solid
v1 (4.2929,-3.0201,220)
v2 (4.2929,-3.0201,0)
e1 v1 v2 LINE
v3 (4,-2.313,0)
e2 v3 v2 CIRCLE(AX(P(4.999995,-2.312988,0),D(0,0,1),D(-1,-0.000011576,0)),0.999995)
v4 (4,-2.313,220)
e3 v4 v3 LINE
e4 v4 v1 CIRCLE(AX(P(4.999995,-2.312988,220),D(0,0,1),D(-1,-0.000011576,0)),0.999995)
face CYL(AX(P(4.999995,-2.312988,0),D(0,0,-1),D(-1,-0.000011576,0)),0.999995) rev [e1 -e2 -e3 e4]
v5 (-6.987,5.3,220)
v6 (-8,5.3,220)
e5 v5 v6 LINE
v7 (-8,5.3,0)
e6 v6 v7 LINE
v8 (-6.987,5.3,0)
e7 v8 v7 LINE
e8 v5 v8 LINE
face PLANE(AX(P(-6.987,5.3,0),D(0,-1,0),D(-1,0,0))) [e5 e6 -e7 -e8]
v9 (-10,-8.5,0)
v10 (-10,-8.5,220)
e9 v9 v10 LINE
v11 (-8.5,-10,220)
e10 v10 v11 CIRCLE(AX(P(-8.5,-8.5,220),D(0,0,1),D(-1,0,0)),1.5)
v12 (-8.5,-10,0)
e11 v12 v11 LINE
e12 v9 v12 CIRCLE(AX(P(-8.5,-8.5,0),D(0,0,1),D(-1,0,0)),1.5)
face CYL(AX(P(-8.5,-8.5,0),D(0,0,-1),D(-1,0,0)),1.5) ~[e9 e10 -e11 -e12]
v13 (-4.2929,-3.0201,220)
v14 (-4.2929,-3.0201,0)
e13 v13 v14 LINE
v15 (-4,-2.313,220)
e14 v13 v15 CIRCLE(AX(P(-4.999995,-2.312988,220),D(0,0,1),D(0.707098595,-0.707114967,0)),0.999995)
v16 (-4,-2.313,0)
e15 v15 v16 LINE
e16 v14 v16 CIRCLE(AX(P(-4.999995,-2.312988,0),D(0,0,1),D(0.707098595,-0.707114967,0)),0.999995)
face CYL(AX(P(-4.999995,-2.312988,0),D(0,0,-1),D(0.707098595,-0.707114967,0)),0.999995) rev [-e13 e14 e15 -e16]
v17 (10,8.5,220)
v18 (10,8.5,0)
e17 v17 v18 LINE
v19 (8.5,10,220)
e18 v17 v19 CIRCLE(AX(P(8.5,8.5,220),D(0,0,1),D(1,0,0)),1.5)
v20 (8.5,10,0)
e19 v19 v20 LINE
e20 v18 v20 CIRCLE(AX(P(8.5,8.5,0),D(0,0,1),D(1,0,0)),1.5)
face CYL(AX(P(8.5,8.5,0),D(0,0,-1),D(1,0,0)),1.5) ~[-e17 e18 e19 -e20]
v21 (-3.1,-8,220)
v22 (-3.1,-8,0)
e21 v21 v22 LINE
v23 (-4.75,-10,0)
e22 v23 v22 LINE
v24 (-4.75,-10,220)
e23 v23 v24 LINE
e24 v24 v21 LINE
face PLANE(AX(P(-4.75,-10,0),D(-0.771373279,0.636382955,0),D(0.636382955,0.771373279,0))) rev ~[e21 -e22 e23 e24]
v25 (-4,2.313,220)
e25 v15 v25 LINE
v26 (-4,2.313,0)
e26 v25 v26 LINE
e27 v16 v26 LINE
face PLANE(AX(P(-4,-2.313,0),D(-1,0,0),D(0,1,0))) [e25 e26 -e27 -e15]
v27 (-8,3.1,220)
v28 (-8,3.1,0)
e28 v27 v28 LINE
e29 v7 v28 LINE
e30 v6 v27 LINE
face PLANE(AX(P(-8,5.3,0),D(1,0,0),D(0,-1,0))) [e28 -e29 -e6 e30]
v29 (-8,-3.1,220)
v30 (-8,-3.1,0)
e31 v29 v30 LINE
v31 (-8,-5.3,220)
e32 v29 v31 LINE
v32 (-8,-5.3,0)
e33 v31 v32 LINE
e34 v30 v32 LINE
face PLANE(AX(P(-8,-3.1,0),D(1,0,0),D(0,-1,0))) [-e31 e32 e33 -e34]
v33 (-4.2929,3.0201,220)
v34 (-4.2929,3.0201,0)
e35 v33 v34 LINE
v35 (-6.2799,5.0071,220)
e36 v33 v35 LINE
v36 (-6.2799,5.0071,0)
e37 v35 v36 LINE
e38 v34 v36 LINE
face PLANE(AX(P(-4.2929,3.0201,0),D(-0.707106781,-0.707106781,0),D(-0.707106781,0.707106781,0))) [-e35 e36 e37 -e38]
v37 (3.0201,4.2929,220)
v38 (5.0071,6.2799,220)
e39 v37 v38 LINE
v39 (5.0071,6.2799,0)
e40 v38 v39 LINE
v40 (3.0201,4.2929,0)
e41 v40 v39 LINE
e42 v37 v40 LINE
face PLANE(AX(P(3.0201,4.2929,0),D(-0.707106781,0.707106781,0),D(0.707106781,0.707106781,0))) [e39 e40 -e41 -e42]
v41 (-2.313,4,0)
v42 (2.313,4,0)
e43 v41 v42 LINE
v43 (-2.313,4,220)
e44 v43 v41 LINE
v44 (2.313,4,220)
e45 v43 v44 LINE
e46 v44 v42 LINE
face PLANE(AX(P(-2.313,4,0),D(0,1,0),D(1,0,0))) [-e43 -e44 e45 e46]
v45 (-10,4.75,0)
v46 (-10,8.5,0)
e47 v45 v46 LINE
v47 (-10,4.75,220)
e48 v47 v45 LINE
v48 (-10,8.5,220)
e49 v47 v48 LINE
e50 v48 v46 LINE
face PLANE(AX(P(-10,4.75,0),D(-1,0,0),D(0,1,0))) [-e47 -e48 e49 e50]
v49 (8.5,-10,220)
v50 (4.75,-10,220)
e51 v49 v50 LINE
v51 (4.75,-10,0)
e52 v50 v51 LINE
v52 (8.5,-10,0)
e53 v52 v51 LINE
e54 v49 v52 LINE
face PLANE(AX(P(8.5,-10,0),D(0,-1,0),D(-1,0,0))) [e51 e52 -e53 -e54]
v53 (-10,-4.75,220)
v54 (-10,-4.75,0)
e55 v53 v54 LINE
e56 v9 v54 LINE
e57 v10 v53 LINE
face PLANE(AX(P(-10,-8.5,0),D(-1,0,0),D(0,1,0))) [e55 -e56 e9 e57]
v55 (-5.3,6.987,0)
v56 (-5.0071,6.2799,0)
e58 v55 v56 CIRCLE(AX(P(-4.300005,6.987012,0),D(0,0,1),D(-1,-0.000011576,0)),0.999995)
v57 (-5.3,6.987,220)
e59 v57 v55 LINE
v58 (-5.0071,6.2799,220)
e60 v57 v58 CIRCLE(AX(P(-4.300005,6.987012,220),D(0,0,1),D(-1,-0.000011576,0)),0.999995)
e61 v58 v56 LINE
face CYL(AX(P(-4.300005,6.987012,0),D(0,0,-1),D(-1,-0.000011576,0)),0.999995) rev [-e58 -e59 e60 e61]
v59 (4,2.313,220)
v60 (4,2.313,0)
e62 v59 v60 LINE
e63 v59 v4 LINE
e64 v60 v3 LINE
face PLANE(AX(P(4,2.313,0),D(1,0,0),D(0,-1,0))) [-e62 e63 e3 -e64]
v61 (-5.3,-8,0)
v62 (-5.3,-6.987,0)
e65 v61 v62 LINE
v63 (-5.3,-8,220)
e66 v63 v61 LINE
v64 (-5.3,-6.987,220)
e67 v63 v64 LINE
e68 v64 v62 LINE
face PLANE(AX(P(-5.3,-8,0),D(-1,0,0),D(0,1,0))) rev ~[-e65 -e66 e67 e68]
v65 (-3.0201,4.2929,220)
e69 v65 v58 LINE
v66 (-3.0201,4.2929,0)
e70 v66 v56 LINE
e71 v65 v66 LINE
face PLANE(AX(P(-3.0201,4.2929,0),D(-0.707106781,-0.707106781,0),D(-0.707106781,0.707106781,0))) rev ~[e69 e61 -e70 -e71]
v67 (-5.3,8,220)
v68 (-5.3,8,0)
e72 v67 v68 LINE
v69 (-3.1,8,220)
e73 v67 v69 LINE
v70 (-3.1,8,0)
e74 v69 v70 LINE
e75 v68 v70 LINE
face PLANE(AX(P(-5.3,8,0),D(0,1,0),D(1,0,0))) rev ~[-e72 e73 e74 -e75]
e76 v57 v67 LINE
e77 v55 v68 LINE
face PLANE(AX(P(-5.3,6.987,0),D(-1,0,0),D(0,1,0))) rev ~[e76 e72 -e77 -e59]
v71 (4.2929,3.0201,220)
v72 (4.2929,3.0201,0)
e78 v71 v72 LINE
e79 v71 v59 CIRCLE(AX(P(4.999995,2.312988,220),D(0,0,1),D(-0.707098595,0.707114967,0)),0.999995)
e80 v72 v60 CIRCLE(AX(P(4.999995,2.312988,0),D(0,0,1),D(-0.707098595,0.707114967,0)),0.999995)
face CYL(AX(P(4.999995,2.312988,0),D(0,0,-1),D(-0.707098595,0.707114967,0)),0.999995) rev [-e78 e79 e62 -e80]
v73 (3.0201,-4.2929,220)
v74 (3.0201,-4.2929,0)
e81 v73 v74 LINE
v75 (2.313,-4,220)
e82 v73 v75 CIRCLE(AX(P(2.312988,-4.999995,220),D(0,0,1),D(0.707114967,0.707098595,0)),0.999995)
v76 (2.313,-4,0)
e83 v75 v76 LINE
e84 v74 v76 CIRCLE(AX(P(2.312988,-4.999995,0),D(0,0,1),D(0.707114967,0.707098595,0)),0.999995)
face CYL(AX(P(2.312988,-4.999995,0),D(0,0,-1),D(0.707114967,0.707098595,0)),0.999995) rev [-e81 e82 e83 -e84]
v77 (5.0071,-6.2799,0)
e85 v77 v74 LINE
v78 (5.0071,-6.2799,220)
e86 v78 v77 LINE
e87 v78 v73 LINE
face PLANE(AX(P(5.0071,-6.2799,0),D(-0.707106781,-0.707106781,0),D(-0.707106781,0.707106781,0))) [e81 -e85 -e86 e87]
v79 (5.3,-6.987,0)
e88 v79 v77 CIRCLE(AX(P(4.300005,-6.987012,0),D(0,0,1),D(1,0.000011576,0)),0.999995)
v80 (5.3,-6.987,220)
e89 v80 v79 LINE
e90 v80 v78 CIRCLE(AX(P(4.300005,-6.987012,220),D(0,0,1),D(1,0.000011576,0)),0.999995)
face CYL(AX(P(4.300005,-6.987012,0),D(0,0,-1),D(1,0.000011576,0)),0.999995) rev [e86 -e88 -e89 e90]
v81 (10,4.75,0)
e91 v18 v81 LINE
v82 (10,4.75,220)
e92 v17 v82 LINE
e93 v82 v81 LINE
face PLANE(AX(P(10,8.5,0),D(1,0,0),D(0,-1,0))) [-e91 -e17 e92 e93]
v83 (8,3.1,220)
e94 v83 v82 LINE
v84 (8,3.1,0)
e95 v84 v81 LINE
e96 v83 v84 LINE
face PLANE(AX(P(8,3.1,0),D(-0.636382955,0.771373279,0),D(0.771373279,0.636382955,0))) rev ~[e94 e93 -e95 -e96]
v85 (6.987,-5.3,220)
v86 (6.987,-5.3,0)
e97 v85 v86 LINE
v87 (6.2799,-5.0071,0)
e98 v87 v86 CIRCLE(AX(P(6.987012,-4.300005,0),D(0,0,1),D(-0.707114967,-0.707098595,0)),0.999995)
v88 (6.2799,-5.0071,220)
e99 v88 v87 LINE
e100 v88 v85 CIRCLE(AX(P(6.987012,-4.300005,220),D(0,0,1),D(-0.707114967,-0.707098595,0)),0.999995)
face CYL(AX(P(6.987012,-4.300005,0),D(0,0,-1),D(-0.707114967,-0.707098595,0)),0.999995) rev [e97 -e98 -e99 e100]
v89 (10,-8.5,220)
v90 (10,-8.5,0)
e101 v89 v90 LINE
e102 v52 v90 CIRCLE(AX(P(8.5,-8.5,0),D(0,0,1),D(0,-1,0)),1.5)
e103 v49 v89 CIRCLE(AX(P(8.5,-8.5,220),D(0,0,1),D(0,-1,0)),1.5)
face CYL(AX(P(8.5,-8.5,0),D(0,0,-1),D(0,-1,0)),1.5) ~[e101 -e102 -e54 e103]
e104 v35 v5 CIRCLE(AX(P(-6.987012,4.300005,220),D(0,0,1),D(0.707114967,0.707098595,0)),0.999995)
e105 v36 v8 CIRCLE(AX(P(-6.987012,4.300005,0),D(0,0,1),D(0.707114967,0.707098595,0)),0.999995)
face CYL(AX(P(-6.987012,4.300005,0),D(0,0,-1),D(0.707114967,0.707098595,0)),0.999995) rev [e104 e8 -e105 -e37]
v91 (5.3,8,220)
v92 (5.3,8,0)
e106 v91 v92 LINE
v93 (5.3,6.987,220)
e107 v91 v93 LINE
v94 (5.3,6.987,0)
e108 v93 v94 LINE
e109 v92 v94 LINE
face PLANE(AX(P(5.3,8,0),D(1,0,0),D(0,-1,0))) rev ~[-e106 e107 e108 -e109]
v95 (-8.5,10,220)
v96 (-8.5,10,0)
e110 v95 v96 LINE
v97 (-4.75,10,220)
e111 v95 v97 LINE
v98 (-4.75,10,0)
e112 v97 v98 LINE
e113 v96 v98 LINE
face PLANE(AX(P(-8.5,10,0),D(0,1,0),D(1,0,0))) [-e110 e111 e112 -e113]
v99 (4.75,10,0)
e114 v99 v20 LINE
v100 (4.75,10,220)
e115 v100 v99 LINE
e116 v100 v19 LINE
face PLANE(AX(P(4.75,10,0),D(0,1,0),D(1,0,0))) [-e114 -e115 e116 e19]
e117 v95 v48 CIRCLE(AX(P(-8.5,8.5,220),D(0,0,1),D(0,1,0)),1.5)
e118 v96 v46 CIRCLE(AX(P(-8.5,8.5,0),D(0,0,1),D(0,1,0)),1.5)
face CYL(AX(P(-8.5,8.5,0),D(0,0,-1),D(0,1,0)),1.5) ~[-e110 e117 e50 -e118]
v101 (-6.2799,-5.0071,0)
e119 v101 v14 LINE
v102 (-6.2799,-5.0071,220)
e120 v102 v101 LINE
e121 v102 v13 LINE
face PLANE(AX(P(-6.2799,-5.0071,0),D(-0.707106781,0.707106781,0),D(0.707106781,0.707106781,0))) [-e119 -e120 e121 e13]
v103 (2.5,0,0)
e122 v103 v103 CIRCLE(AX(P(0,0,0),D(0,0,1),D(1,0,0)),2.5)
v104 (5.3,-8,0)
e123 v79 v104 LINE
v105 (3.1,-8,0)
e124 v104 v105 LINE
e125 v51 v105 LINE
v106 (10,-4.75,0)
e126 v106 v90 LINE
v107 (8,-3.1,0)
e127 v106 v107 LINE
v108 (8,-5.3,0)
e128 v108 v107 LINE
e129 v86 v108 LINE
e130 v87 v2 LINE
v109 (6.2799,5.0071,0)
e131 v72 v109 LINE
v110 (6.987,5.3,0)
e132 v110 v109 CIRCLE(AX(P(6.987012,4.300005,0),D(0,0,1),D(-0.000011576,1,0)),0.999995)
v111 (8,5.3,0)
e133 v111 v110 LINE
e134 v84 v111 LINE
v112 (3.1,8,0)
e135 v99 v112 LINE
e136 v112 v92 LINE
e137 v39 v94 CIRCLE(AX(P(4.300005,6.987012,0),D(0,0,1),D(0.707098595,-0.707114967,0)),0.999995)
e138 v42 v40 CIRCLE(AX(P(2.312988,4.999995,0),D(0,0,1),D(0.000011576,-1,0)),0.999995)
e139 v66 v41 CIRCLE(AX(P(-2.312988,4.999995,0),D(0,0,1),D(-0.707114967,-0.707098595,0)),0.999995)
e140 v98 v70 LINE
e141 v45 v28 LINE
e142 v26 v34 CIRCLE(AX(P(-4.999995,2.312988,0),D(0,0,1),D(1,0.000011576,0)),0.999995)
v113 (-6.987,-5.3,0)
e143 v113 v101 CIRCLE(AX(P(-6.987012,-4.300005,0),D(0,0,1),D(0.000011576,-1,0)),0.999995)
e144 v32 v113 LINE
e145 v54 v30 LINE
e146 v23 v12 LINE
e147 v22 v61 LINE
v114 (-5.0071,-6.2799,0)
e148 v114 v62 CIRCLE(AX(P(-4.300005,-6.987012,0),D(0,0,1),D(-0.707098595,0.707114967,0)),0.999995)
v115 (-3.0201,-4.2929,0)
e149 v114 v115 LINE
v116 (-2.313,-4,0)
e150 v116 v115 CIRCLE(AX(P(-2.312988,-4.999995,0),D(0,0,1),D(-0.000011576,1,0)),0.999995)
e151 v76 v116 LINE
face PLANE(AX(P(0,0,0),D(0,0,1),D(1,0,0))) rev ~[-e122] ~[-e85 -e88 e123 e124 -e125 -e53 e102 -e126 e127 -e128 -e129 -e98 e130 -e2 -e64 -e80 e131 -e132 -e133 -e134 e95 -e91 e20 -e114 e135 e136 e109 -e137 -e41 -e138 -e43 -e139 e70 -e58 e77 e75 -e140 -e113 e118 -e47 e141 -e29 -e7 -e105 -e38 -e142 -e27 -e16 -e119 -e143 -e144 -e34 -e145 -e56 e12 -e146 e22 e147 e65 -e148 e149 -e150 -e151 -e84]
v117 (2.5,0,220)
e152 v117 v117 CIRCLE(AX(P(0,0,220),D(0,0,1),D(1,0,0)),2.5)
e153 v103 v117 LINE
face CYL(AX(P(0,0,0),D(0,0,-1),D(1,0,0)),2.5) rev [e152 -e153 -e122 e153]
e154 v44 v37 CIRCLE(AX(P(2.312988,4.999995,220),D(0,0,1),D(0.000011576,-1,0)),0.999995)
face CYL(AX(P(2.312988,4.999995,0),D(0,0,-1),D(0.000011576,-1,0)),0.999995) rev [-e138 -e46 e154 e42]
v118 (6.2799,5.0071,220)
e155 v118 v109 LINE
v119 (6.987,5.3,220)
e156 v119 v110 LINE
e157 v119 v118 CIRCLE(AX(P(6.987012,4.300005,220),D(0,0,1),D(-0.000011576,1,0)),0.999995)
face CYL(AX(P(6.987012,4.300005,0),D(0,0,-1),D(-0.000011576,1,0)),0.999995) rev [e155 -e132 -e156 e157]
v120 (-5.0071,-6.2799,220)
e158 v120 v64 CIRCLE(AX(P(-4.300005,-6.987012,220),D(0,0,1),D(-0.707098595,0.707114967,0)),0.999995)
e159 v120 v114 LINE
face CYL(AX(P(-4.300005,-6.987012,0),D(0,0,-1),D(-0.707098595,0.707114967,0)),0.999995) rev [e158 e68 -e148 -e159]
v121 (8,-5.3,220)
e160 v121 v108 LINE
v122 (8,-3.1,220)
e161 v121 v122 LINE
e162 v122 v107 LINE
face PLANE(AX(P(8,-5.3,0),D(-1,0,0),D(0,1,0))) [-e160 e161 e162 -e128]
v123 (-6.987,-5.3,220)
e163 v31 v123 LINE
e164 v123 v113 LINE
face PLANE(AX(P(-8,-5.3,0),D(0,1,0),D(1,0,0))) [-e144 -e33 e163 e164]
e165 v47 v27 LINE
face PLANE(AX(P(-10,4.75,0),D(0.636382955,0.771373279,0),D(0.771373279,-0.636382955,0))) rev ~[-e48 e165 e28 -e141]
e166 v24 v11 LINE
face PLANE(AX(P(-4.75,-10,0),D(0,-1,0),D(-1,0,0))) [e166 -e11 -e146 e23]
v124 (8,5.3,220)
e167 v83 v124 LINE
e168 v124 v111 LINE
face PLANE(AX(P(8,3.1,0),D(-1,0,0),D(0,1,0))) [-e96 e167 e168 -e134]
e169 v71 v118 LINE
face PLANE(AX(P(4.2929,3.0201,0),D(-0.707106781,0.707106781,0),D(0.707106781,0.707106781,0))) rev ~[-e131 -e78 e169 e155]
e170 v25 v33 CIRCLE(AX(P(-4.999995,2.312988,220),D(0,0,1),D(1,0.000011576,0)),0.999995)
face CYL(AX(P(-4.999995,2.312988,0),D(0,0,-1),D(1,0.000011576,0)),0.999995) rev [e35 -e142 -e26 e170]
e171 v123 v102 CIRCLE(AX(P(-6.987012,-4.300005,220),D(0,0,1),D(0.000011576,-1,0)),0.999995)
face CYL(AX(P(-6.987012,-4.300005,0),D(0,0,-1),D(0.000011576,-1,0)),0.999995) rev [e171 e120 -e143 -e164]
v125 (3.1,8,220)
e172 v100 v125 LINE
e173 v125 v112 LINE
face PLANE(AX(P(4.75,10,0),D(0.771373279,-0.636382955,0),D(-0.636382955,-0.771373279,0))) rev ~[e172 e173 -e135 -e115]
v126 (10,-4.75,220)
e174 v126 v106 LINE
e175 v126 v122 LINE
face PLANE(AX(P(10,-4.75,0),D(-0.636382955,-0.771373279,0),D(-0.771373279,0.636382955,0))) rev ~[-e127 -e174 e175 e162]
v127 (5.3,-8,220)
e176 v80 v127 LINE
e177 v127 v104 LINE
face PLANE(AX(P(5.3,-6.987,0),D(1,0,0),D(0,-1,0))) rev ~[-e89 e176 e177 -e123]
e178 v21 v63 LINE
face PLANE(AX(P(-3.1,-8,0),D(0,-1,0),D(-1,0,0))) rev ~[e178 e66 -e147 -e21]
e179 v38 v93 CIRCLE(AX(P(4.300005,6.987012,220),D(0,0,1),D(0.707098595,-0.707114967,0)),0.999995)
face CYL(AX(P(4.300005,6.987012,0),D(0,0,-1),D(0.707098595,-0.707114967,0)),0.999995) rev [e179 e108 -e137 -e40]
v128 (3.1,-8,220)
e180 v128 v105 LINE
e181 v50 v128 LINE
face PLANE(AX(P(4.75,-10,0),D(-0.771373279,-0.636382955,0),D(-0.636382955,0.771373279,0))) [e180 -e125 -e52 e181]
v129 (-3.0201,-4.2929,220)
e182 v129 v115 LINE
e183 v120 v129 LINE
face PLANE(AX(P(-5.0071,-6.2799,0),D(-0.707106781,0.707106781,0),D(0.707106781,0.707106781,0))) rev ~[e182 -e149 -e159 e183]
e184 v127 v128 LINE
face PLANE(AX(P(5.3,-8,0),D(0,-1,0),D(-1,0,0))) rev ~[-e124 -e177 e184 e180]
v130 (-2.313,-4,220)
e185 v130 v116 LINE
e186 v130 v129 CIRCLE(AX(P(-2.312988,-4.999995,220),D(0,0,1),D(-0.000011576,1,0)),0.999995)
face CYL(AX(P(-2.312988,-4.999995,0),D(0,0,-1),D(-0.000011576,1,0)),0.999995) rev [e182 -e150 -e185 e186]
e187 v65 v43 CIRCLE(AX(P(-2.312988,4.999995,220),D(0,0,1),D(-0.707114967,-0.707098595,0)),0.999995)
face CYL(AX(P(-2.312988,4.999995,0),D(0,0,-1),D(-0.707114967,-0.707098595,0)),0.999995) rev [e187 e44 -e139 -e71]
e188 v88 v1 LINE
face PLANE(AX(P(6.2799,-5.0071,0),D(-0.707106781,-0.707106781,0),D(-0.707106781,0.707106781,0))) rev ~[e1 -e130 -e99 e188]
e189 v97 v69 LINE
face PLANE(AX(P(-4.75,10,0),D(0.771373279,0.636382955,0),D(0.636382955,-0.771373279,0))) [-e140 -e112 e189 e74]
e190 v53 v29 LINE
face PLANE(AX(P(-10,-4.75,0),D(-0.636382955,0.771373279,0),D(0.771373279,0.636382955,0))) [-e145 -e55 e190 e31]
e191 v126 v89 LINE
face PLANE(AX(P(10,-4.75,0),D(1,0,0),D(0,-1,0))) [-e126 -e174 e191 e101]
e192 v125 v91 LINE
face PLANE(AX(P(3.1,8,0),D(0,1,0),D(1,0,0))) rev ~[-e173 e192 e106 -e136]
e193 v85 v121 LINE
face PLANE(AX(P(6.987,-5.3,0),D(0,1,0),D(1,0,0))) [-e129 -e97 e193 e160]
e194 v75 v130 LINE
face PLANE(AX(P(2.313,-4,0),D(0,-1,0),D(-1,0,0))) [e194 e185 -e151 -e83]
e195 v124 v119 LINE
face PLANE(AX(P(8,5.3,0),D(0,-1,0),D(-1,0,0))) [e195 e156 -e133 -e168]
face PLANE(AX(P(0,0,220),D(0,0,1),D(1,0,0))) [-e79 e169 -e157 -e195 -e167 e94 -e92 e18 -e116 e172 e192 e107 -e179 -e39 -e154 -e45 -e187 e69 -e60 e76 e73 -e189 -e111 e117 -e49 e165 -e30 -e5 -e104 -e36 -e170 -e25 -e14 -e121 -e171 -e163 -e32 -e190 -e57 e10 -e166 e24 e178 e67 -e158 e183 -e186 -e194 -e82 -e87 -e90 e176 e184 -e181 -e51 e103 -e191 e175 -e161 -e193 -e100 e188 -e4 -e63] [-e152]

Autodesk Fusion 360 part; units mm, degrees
sketch "Sketch1" plane through (0, 0, 0) normal (0, 0, 1) x (1, 0, 0)
  circle A0 centre (0, 0) radius 2.5
  arc A1 (-10, -8.5) -> (-8.5, -10) centre (-8.5, -8.5) ccw
  arc A2 (8.5, -10) -> (10, -8.5) centre (8.5, -8.5) ccw
  arc A3 (10, 8.5) -> (8.5, 10) centre (8.5, 8.5) ccw
  arc A4 (-8.5, 10) -> (-10, 8.5) centre (-8.5, 8.5) ccw
  line L0 (-6.987, 5.3) -> (-8, 5.3)
  line L1 (6.987, -5.3) -> (8, -5.3)
  line L2 (8, 5.3) -> (6.987, 5.3)
  line L3 (-8, -5.3) -> (-6.987, -5.3)
  line L4 (-5.3, -8) -> (-5.3, -6.987)
  line L5 (-5.3, 6.987) -> (-5.3, 8)
  line L6 (5.3, 8) -> (5.3, 6.987)
  line L7 (5.3, -6.987) -> (5.3, -8)
  line L8 (2.313, -4) -> (-2.313, -4)
  line L9 (-4, -2.313) -> (-4, 2.313)
  line L10 (-2.313, 4) -> (2.313, 4)
  line L11 (4, 2.313) -> (4, -2.313)
  line L12 (6.2799, -5.0071) -> (4.2929, -3.0201)
  line L13 (5.0071, -6.2799) -> (3.0201, -4.2929)
  line L14 (-5.0071, -6.2799) -> (-3.0201, -4.2929)
  line L15 (-6.2799, -5.0071) -> (-4.2929, -3.0201)
  line L16 (-4.2929, 3.0201) -> (-6.2799, 5.0071)
  line L17 (-3.0201, 4.2929) -> (-5.0071, 6.2799)
  line L18 (3.0201, 4.2929) -> (5.0071, 6.2799)
  line L19 (4.2929, 3.0201) -> (6.2799, 5.0071)
  line L20 (0, -15) -> (0, 19) construction
  line L21 (-20, 0) -> (20, 0) construction
  line L22 (-10, -8.5) -> (-10, -4.75)
  line L23 (-10, 4.75) -> (-10, 8.5)
  line L24 (8.5, -10) -> (4.75, -10)
  line L25 (-4.75, -10) -> (-8.5, -10)
  line L26 (10, 8.5) -> (10, 4.75)
  line L27 (10, -4.75) -> (10, -8.5)
  line L28 (-8.5, 10) -> (-4.75, 10)
  line L29 (4.75, 10) -> (8.5, 10)
  line L30 (5.3, -8) -> (3.1, -8)
  line L31 (-3.1, -8) -> (-5.3, -8)
  line L32 (8, -5.3) -> (8, -3.1)
  line L33 (8, 3.1) -> (8, 5.3)
  line L34 (-5.3, 8) -> (-3.1, 8)
  line L35 (3.1, 8) -> (5.3, 8)
  line L36 (-8, 5.3) -> (-8, 3.1)
  line L37 (-8, -3.1) -> (-8, -5.3)
  line L38 (-4.75, -10) -> (-3.1, -8)
  line L39 (4.75, -10) -> (3.1, -8)
  line L40 (10, -4.75) -> (8, -3.1)
  line L41 (8, 3.1) -> (10, 4.75)
  line L42 (4.75, 10) -> (3.1, 8)
  line L43 (-4.75, 10) -> (-3.1, 8)
  line L44 (-10, 4.75) -> (-8, 3.1)
  line L45 (-10, -4.75) -> (-8, -3.1)
  arc A5 (-5.0071, -6.2799) -> (-5.3, -6.987) centre (-4.3, -6.987) ccw
  arc A6 (5.3, -6.987) -> (5.0071, -6.2799) centre (4.3, -6.987) ccw
  arc A7 (3.0201, -4.2929) -> (2.313, -4) centre (2.313, -5) ccw
  arc A8 (-2.313, -4) -> (-3.0201, -4.2929) centre (-2.313, -5) ccw
  arc A9 (-6.987, -5.3) -> (-6.2799, -5.0071) centre (-6.987, -4.3) ccw
  arc A10 (-4.2929, -3.0201) -> (-4, -2.313) centre (-5, -2.313) ccw
  arc A11 (-4, 2.313) -> (-4.2929, 3.0201) centre (-5, 2.313) ccw
  arc A12 (-6.2799, 5.0071) -> (-6.987, 5.3) centre (-6.987, 4.3) ccw
  arc A13 (6.2799, -5.0071) -> (6.987, -5.3) centre (6.987, -4.3) ccw
  arc A14 (4, -2.313) -> (4.2929, -3.0201) centre (5, -2.313) ccw
  arc A15 (4.2929, 3.0201) -> (4, 2.313) centre (5, 2.313) ccw
  arc A16 (6.987, 5.3) -> (6.2799, 5.0071) centre (6.987, 4.3) ccw
  arc A17 (5.0071, 6.2799) -> (5.3, 6.987) centre (4.3, 6.987) ccw
  arc A18 (2.313, 4) -> (3.0201, 4.2929) centre (2.313, 5) ccw
  arc A19 (-3.0201, 4.2929) -> (-2.313, 4) centre (-2.313, 5) ccw
  arc A20 (-5.3, 6.987) -> (-5.0071, 6.2799) centre (-4.3, 6.987) ccw
  dimension "d3" = 5
  dimension "d4" = 1.5
  dimension "d5" = 16
  dimension "d6" = 10.6
  dimension "d7" = 10.6
  dimension "d8" = 16
  dimension "d23" = 1
extrude "Extrude1" add sketch "Sketch1" along normal blind 149

Autodesk Fusion 360 part; units mm, degrees
sketch "Sketch1" plane through (0, 0, 0) normal (0, 0, 1) x (1, 0, 0)
  circle A0 centre (0, 0) radius 2.5
  arc A1 (-10, -8.5) -> (-8.5, -10) centre (-8.5, -8.5) ccw
  arc A2 (8.5, -10) -> (10, -8.5) centre (8.5, -8.5) ccw
  arc A3 (10, 8.5) -> (8.5, 10) centre (8.5, 8.5) ccw
  arc A4 (-8.5, 10) -> (-10, 8.5) centre (-8.5, 8.5) ccw
  line L0 (-6.987, 5.3) -> (-8, 5.3)
  line L1 (6.987, -5.3) -> (8, -5.3)
  line L2 (8, 5.3) -> (6.987, 5.3)
  line L3 (-8, -5.3) -> (-6.987, -5.3)
  line L4 (-5.3, -8) -> (-5.3, -6.987)
  line L5 (-5.3, 6.987) -> (-5.3, 8)
  line L6 (5.3, 8) -> (5.3, 6.987)
  line L7 (5.3, -6.987) -> (5.3, -8)
  line L8 (2.313, -4) -> (-2.313, -4)
  line L9 (-4, -2.313) -> (-4, 2.313)
  line L10 (-2.313, 4) -> (2.313, 4)
  line L11 (4, 2.313) -> (4, -2.313)
  line L12 (6.2799, -5.0071) -> (4.2929, -3.0201)
  line L13 (5.0071, -6.2799) -> (3.0201, -4.2929)
  line L14 (-5.0071, -6.2799) -> (-3.0201, -4.2929)
  line L15 (-6.2799, -5.0071) -> (-4.2929, -3.0201)
  line L16 (-4.2929, 3.0201) -> (-6.2799, 5.0071)
  line L17 (-3.0201, 4.2929) -> (-5.0071, 6.2799)
  line L18 (3.0201, 4.2929) -> (5.0071, 6.2799)
  line L19 (4.2929, 3.0201) -> (6.2799, 5.0071)
  line L20 (0, -15) -> (0, 19) construction
  line L21 (-20, 0) -> (20, 0) construction
  line L22 (-10, -8.5) -> (-10, -4.75)
  line L23 (-10, 4.75) -> (-10, 8.5)
  line L24 (8.5, -10) -> (4.75, -10)
  line L25 (-4.75, -10) -> (-8.5, -10)
  line L26 (10, 8.5) -> (10, 4.75)
  line L27 (10, -4.75) -> (10, -8.5)
  line L28 (-8.5, 10) -> (-4.75, 10)
  line L29 (4.75, 10) -> (8.5, 10)
  line L30 (5.3, -8) -> (3.1, -8)
  line L31 (-3.1, -8) -> (-5.3, -8)
  line L32 (8, -5.3) -> (8, -3.1)
  line L33 (8, 3.1) -> (8, 5.3)
  line L34 (-5.3, 8) -> (-3.1, 8)
  line L35 (3.1, 8) -> (5.3, 8)
  line L36 (-8, 5.3) -> (-8, 3.1)
  line L37 (-8, -3.1) -> (-8, -5.3)
  line L38 (-4.75, -10) -> (-3.1, -8)
  line L39 (4.75, -10) -> (3.1, -8)
  line L40 (10, -4.75) -> (8, -3.1)
  line L41 (8, 3.1) -> (10, 4.75)
  line L42 (4.75, 10) -> (3.1, 8)
  line L43 (-4.75, 10) -> (-3.1, 8)
  line L44 (-10, 4.75) -> (-8, 3.1)
  line L45 (-10, -4.75) -> (-8, -3.1)
  arc A5 (-5.0071, -6.2799) -> (-5.3, -6.987) centre (-4.3, -6.987) ccw
  arc A6 (5.3, -6.987) -> (5.0071, -6.2799) centre (4.3, -6.987) ccw
  arc A7 (3.0201, -4.2929) -> (2.313, -4) centre (2.313, -5) ccw
  arc A8 (-2.313, -4) -> (-3.0201, -4.2929) centre (-2.313, -5) ccw
  arc A9 (-6.987, -5.3) -> (-6.2799, -5.0071) centre (-6.987, -4.3) ccw
  arc A10 (-4.2929, -3.0201) -> (-4, -2.313) centre (-5, -2.313) ccw
  arc A11 (-4, 2.313) -> (-4.2929, 3.0201) centre (-5, 2.313) ccw
  arc A12 (-6.2799, 5.0071) -> (-6.987, 5.3) centre (-6.987, 4.3) ccw
  arc A13 (6.2799, -5.0071) -> (6.987, -5.3) centre (6.987, -4.3) ccw
  arc A14 (4, -2.313) -> (4.2929, -3.0201) centre (5, -2.313) ccw
  arc A15 (4.2929, 3.0201) -> (4, 2.313) centre (5, 2.313) ccw
  arc A16 (6.987, 5.3) -> (6.2799, 5.0071) centre (6.987, 4.3) ccw
  arc A17 (5.0071, 6.2799) -> (5.3, 6.987) centre (4.3, 6.987) ccw
  arc A18 (2.313, 4) -> (3.0201, 4.2929) centre (2.313, 5) ccw
  arc A19 (-3.0201, 4.2929) -> (-2.313, 4) centre (-2.313, 5) ccw
  arc A20 (-5.3, 6.987) -> (-5.0071, 6.2799) centre (-4.3, 6.987) ccw
  dimension "d3" = 5
  dimension "d4" = 1.5
  dimension "d5" = 16
  dimension "d6" = 10.6
  dimension "d7" = 10.6
  dimension "d8" = 16
  dimension "d23" = 1
extrude "Extrude1" add sketch "Sketch1" along normal blind 220
